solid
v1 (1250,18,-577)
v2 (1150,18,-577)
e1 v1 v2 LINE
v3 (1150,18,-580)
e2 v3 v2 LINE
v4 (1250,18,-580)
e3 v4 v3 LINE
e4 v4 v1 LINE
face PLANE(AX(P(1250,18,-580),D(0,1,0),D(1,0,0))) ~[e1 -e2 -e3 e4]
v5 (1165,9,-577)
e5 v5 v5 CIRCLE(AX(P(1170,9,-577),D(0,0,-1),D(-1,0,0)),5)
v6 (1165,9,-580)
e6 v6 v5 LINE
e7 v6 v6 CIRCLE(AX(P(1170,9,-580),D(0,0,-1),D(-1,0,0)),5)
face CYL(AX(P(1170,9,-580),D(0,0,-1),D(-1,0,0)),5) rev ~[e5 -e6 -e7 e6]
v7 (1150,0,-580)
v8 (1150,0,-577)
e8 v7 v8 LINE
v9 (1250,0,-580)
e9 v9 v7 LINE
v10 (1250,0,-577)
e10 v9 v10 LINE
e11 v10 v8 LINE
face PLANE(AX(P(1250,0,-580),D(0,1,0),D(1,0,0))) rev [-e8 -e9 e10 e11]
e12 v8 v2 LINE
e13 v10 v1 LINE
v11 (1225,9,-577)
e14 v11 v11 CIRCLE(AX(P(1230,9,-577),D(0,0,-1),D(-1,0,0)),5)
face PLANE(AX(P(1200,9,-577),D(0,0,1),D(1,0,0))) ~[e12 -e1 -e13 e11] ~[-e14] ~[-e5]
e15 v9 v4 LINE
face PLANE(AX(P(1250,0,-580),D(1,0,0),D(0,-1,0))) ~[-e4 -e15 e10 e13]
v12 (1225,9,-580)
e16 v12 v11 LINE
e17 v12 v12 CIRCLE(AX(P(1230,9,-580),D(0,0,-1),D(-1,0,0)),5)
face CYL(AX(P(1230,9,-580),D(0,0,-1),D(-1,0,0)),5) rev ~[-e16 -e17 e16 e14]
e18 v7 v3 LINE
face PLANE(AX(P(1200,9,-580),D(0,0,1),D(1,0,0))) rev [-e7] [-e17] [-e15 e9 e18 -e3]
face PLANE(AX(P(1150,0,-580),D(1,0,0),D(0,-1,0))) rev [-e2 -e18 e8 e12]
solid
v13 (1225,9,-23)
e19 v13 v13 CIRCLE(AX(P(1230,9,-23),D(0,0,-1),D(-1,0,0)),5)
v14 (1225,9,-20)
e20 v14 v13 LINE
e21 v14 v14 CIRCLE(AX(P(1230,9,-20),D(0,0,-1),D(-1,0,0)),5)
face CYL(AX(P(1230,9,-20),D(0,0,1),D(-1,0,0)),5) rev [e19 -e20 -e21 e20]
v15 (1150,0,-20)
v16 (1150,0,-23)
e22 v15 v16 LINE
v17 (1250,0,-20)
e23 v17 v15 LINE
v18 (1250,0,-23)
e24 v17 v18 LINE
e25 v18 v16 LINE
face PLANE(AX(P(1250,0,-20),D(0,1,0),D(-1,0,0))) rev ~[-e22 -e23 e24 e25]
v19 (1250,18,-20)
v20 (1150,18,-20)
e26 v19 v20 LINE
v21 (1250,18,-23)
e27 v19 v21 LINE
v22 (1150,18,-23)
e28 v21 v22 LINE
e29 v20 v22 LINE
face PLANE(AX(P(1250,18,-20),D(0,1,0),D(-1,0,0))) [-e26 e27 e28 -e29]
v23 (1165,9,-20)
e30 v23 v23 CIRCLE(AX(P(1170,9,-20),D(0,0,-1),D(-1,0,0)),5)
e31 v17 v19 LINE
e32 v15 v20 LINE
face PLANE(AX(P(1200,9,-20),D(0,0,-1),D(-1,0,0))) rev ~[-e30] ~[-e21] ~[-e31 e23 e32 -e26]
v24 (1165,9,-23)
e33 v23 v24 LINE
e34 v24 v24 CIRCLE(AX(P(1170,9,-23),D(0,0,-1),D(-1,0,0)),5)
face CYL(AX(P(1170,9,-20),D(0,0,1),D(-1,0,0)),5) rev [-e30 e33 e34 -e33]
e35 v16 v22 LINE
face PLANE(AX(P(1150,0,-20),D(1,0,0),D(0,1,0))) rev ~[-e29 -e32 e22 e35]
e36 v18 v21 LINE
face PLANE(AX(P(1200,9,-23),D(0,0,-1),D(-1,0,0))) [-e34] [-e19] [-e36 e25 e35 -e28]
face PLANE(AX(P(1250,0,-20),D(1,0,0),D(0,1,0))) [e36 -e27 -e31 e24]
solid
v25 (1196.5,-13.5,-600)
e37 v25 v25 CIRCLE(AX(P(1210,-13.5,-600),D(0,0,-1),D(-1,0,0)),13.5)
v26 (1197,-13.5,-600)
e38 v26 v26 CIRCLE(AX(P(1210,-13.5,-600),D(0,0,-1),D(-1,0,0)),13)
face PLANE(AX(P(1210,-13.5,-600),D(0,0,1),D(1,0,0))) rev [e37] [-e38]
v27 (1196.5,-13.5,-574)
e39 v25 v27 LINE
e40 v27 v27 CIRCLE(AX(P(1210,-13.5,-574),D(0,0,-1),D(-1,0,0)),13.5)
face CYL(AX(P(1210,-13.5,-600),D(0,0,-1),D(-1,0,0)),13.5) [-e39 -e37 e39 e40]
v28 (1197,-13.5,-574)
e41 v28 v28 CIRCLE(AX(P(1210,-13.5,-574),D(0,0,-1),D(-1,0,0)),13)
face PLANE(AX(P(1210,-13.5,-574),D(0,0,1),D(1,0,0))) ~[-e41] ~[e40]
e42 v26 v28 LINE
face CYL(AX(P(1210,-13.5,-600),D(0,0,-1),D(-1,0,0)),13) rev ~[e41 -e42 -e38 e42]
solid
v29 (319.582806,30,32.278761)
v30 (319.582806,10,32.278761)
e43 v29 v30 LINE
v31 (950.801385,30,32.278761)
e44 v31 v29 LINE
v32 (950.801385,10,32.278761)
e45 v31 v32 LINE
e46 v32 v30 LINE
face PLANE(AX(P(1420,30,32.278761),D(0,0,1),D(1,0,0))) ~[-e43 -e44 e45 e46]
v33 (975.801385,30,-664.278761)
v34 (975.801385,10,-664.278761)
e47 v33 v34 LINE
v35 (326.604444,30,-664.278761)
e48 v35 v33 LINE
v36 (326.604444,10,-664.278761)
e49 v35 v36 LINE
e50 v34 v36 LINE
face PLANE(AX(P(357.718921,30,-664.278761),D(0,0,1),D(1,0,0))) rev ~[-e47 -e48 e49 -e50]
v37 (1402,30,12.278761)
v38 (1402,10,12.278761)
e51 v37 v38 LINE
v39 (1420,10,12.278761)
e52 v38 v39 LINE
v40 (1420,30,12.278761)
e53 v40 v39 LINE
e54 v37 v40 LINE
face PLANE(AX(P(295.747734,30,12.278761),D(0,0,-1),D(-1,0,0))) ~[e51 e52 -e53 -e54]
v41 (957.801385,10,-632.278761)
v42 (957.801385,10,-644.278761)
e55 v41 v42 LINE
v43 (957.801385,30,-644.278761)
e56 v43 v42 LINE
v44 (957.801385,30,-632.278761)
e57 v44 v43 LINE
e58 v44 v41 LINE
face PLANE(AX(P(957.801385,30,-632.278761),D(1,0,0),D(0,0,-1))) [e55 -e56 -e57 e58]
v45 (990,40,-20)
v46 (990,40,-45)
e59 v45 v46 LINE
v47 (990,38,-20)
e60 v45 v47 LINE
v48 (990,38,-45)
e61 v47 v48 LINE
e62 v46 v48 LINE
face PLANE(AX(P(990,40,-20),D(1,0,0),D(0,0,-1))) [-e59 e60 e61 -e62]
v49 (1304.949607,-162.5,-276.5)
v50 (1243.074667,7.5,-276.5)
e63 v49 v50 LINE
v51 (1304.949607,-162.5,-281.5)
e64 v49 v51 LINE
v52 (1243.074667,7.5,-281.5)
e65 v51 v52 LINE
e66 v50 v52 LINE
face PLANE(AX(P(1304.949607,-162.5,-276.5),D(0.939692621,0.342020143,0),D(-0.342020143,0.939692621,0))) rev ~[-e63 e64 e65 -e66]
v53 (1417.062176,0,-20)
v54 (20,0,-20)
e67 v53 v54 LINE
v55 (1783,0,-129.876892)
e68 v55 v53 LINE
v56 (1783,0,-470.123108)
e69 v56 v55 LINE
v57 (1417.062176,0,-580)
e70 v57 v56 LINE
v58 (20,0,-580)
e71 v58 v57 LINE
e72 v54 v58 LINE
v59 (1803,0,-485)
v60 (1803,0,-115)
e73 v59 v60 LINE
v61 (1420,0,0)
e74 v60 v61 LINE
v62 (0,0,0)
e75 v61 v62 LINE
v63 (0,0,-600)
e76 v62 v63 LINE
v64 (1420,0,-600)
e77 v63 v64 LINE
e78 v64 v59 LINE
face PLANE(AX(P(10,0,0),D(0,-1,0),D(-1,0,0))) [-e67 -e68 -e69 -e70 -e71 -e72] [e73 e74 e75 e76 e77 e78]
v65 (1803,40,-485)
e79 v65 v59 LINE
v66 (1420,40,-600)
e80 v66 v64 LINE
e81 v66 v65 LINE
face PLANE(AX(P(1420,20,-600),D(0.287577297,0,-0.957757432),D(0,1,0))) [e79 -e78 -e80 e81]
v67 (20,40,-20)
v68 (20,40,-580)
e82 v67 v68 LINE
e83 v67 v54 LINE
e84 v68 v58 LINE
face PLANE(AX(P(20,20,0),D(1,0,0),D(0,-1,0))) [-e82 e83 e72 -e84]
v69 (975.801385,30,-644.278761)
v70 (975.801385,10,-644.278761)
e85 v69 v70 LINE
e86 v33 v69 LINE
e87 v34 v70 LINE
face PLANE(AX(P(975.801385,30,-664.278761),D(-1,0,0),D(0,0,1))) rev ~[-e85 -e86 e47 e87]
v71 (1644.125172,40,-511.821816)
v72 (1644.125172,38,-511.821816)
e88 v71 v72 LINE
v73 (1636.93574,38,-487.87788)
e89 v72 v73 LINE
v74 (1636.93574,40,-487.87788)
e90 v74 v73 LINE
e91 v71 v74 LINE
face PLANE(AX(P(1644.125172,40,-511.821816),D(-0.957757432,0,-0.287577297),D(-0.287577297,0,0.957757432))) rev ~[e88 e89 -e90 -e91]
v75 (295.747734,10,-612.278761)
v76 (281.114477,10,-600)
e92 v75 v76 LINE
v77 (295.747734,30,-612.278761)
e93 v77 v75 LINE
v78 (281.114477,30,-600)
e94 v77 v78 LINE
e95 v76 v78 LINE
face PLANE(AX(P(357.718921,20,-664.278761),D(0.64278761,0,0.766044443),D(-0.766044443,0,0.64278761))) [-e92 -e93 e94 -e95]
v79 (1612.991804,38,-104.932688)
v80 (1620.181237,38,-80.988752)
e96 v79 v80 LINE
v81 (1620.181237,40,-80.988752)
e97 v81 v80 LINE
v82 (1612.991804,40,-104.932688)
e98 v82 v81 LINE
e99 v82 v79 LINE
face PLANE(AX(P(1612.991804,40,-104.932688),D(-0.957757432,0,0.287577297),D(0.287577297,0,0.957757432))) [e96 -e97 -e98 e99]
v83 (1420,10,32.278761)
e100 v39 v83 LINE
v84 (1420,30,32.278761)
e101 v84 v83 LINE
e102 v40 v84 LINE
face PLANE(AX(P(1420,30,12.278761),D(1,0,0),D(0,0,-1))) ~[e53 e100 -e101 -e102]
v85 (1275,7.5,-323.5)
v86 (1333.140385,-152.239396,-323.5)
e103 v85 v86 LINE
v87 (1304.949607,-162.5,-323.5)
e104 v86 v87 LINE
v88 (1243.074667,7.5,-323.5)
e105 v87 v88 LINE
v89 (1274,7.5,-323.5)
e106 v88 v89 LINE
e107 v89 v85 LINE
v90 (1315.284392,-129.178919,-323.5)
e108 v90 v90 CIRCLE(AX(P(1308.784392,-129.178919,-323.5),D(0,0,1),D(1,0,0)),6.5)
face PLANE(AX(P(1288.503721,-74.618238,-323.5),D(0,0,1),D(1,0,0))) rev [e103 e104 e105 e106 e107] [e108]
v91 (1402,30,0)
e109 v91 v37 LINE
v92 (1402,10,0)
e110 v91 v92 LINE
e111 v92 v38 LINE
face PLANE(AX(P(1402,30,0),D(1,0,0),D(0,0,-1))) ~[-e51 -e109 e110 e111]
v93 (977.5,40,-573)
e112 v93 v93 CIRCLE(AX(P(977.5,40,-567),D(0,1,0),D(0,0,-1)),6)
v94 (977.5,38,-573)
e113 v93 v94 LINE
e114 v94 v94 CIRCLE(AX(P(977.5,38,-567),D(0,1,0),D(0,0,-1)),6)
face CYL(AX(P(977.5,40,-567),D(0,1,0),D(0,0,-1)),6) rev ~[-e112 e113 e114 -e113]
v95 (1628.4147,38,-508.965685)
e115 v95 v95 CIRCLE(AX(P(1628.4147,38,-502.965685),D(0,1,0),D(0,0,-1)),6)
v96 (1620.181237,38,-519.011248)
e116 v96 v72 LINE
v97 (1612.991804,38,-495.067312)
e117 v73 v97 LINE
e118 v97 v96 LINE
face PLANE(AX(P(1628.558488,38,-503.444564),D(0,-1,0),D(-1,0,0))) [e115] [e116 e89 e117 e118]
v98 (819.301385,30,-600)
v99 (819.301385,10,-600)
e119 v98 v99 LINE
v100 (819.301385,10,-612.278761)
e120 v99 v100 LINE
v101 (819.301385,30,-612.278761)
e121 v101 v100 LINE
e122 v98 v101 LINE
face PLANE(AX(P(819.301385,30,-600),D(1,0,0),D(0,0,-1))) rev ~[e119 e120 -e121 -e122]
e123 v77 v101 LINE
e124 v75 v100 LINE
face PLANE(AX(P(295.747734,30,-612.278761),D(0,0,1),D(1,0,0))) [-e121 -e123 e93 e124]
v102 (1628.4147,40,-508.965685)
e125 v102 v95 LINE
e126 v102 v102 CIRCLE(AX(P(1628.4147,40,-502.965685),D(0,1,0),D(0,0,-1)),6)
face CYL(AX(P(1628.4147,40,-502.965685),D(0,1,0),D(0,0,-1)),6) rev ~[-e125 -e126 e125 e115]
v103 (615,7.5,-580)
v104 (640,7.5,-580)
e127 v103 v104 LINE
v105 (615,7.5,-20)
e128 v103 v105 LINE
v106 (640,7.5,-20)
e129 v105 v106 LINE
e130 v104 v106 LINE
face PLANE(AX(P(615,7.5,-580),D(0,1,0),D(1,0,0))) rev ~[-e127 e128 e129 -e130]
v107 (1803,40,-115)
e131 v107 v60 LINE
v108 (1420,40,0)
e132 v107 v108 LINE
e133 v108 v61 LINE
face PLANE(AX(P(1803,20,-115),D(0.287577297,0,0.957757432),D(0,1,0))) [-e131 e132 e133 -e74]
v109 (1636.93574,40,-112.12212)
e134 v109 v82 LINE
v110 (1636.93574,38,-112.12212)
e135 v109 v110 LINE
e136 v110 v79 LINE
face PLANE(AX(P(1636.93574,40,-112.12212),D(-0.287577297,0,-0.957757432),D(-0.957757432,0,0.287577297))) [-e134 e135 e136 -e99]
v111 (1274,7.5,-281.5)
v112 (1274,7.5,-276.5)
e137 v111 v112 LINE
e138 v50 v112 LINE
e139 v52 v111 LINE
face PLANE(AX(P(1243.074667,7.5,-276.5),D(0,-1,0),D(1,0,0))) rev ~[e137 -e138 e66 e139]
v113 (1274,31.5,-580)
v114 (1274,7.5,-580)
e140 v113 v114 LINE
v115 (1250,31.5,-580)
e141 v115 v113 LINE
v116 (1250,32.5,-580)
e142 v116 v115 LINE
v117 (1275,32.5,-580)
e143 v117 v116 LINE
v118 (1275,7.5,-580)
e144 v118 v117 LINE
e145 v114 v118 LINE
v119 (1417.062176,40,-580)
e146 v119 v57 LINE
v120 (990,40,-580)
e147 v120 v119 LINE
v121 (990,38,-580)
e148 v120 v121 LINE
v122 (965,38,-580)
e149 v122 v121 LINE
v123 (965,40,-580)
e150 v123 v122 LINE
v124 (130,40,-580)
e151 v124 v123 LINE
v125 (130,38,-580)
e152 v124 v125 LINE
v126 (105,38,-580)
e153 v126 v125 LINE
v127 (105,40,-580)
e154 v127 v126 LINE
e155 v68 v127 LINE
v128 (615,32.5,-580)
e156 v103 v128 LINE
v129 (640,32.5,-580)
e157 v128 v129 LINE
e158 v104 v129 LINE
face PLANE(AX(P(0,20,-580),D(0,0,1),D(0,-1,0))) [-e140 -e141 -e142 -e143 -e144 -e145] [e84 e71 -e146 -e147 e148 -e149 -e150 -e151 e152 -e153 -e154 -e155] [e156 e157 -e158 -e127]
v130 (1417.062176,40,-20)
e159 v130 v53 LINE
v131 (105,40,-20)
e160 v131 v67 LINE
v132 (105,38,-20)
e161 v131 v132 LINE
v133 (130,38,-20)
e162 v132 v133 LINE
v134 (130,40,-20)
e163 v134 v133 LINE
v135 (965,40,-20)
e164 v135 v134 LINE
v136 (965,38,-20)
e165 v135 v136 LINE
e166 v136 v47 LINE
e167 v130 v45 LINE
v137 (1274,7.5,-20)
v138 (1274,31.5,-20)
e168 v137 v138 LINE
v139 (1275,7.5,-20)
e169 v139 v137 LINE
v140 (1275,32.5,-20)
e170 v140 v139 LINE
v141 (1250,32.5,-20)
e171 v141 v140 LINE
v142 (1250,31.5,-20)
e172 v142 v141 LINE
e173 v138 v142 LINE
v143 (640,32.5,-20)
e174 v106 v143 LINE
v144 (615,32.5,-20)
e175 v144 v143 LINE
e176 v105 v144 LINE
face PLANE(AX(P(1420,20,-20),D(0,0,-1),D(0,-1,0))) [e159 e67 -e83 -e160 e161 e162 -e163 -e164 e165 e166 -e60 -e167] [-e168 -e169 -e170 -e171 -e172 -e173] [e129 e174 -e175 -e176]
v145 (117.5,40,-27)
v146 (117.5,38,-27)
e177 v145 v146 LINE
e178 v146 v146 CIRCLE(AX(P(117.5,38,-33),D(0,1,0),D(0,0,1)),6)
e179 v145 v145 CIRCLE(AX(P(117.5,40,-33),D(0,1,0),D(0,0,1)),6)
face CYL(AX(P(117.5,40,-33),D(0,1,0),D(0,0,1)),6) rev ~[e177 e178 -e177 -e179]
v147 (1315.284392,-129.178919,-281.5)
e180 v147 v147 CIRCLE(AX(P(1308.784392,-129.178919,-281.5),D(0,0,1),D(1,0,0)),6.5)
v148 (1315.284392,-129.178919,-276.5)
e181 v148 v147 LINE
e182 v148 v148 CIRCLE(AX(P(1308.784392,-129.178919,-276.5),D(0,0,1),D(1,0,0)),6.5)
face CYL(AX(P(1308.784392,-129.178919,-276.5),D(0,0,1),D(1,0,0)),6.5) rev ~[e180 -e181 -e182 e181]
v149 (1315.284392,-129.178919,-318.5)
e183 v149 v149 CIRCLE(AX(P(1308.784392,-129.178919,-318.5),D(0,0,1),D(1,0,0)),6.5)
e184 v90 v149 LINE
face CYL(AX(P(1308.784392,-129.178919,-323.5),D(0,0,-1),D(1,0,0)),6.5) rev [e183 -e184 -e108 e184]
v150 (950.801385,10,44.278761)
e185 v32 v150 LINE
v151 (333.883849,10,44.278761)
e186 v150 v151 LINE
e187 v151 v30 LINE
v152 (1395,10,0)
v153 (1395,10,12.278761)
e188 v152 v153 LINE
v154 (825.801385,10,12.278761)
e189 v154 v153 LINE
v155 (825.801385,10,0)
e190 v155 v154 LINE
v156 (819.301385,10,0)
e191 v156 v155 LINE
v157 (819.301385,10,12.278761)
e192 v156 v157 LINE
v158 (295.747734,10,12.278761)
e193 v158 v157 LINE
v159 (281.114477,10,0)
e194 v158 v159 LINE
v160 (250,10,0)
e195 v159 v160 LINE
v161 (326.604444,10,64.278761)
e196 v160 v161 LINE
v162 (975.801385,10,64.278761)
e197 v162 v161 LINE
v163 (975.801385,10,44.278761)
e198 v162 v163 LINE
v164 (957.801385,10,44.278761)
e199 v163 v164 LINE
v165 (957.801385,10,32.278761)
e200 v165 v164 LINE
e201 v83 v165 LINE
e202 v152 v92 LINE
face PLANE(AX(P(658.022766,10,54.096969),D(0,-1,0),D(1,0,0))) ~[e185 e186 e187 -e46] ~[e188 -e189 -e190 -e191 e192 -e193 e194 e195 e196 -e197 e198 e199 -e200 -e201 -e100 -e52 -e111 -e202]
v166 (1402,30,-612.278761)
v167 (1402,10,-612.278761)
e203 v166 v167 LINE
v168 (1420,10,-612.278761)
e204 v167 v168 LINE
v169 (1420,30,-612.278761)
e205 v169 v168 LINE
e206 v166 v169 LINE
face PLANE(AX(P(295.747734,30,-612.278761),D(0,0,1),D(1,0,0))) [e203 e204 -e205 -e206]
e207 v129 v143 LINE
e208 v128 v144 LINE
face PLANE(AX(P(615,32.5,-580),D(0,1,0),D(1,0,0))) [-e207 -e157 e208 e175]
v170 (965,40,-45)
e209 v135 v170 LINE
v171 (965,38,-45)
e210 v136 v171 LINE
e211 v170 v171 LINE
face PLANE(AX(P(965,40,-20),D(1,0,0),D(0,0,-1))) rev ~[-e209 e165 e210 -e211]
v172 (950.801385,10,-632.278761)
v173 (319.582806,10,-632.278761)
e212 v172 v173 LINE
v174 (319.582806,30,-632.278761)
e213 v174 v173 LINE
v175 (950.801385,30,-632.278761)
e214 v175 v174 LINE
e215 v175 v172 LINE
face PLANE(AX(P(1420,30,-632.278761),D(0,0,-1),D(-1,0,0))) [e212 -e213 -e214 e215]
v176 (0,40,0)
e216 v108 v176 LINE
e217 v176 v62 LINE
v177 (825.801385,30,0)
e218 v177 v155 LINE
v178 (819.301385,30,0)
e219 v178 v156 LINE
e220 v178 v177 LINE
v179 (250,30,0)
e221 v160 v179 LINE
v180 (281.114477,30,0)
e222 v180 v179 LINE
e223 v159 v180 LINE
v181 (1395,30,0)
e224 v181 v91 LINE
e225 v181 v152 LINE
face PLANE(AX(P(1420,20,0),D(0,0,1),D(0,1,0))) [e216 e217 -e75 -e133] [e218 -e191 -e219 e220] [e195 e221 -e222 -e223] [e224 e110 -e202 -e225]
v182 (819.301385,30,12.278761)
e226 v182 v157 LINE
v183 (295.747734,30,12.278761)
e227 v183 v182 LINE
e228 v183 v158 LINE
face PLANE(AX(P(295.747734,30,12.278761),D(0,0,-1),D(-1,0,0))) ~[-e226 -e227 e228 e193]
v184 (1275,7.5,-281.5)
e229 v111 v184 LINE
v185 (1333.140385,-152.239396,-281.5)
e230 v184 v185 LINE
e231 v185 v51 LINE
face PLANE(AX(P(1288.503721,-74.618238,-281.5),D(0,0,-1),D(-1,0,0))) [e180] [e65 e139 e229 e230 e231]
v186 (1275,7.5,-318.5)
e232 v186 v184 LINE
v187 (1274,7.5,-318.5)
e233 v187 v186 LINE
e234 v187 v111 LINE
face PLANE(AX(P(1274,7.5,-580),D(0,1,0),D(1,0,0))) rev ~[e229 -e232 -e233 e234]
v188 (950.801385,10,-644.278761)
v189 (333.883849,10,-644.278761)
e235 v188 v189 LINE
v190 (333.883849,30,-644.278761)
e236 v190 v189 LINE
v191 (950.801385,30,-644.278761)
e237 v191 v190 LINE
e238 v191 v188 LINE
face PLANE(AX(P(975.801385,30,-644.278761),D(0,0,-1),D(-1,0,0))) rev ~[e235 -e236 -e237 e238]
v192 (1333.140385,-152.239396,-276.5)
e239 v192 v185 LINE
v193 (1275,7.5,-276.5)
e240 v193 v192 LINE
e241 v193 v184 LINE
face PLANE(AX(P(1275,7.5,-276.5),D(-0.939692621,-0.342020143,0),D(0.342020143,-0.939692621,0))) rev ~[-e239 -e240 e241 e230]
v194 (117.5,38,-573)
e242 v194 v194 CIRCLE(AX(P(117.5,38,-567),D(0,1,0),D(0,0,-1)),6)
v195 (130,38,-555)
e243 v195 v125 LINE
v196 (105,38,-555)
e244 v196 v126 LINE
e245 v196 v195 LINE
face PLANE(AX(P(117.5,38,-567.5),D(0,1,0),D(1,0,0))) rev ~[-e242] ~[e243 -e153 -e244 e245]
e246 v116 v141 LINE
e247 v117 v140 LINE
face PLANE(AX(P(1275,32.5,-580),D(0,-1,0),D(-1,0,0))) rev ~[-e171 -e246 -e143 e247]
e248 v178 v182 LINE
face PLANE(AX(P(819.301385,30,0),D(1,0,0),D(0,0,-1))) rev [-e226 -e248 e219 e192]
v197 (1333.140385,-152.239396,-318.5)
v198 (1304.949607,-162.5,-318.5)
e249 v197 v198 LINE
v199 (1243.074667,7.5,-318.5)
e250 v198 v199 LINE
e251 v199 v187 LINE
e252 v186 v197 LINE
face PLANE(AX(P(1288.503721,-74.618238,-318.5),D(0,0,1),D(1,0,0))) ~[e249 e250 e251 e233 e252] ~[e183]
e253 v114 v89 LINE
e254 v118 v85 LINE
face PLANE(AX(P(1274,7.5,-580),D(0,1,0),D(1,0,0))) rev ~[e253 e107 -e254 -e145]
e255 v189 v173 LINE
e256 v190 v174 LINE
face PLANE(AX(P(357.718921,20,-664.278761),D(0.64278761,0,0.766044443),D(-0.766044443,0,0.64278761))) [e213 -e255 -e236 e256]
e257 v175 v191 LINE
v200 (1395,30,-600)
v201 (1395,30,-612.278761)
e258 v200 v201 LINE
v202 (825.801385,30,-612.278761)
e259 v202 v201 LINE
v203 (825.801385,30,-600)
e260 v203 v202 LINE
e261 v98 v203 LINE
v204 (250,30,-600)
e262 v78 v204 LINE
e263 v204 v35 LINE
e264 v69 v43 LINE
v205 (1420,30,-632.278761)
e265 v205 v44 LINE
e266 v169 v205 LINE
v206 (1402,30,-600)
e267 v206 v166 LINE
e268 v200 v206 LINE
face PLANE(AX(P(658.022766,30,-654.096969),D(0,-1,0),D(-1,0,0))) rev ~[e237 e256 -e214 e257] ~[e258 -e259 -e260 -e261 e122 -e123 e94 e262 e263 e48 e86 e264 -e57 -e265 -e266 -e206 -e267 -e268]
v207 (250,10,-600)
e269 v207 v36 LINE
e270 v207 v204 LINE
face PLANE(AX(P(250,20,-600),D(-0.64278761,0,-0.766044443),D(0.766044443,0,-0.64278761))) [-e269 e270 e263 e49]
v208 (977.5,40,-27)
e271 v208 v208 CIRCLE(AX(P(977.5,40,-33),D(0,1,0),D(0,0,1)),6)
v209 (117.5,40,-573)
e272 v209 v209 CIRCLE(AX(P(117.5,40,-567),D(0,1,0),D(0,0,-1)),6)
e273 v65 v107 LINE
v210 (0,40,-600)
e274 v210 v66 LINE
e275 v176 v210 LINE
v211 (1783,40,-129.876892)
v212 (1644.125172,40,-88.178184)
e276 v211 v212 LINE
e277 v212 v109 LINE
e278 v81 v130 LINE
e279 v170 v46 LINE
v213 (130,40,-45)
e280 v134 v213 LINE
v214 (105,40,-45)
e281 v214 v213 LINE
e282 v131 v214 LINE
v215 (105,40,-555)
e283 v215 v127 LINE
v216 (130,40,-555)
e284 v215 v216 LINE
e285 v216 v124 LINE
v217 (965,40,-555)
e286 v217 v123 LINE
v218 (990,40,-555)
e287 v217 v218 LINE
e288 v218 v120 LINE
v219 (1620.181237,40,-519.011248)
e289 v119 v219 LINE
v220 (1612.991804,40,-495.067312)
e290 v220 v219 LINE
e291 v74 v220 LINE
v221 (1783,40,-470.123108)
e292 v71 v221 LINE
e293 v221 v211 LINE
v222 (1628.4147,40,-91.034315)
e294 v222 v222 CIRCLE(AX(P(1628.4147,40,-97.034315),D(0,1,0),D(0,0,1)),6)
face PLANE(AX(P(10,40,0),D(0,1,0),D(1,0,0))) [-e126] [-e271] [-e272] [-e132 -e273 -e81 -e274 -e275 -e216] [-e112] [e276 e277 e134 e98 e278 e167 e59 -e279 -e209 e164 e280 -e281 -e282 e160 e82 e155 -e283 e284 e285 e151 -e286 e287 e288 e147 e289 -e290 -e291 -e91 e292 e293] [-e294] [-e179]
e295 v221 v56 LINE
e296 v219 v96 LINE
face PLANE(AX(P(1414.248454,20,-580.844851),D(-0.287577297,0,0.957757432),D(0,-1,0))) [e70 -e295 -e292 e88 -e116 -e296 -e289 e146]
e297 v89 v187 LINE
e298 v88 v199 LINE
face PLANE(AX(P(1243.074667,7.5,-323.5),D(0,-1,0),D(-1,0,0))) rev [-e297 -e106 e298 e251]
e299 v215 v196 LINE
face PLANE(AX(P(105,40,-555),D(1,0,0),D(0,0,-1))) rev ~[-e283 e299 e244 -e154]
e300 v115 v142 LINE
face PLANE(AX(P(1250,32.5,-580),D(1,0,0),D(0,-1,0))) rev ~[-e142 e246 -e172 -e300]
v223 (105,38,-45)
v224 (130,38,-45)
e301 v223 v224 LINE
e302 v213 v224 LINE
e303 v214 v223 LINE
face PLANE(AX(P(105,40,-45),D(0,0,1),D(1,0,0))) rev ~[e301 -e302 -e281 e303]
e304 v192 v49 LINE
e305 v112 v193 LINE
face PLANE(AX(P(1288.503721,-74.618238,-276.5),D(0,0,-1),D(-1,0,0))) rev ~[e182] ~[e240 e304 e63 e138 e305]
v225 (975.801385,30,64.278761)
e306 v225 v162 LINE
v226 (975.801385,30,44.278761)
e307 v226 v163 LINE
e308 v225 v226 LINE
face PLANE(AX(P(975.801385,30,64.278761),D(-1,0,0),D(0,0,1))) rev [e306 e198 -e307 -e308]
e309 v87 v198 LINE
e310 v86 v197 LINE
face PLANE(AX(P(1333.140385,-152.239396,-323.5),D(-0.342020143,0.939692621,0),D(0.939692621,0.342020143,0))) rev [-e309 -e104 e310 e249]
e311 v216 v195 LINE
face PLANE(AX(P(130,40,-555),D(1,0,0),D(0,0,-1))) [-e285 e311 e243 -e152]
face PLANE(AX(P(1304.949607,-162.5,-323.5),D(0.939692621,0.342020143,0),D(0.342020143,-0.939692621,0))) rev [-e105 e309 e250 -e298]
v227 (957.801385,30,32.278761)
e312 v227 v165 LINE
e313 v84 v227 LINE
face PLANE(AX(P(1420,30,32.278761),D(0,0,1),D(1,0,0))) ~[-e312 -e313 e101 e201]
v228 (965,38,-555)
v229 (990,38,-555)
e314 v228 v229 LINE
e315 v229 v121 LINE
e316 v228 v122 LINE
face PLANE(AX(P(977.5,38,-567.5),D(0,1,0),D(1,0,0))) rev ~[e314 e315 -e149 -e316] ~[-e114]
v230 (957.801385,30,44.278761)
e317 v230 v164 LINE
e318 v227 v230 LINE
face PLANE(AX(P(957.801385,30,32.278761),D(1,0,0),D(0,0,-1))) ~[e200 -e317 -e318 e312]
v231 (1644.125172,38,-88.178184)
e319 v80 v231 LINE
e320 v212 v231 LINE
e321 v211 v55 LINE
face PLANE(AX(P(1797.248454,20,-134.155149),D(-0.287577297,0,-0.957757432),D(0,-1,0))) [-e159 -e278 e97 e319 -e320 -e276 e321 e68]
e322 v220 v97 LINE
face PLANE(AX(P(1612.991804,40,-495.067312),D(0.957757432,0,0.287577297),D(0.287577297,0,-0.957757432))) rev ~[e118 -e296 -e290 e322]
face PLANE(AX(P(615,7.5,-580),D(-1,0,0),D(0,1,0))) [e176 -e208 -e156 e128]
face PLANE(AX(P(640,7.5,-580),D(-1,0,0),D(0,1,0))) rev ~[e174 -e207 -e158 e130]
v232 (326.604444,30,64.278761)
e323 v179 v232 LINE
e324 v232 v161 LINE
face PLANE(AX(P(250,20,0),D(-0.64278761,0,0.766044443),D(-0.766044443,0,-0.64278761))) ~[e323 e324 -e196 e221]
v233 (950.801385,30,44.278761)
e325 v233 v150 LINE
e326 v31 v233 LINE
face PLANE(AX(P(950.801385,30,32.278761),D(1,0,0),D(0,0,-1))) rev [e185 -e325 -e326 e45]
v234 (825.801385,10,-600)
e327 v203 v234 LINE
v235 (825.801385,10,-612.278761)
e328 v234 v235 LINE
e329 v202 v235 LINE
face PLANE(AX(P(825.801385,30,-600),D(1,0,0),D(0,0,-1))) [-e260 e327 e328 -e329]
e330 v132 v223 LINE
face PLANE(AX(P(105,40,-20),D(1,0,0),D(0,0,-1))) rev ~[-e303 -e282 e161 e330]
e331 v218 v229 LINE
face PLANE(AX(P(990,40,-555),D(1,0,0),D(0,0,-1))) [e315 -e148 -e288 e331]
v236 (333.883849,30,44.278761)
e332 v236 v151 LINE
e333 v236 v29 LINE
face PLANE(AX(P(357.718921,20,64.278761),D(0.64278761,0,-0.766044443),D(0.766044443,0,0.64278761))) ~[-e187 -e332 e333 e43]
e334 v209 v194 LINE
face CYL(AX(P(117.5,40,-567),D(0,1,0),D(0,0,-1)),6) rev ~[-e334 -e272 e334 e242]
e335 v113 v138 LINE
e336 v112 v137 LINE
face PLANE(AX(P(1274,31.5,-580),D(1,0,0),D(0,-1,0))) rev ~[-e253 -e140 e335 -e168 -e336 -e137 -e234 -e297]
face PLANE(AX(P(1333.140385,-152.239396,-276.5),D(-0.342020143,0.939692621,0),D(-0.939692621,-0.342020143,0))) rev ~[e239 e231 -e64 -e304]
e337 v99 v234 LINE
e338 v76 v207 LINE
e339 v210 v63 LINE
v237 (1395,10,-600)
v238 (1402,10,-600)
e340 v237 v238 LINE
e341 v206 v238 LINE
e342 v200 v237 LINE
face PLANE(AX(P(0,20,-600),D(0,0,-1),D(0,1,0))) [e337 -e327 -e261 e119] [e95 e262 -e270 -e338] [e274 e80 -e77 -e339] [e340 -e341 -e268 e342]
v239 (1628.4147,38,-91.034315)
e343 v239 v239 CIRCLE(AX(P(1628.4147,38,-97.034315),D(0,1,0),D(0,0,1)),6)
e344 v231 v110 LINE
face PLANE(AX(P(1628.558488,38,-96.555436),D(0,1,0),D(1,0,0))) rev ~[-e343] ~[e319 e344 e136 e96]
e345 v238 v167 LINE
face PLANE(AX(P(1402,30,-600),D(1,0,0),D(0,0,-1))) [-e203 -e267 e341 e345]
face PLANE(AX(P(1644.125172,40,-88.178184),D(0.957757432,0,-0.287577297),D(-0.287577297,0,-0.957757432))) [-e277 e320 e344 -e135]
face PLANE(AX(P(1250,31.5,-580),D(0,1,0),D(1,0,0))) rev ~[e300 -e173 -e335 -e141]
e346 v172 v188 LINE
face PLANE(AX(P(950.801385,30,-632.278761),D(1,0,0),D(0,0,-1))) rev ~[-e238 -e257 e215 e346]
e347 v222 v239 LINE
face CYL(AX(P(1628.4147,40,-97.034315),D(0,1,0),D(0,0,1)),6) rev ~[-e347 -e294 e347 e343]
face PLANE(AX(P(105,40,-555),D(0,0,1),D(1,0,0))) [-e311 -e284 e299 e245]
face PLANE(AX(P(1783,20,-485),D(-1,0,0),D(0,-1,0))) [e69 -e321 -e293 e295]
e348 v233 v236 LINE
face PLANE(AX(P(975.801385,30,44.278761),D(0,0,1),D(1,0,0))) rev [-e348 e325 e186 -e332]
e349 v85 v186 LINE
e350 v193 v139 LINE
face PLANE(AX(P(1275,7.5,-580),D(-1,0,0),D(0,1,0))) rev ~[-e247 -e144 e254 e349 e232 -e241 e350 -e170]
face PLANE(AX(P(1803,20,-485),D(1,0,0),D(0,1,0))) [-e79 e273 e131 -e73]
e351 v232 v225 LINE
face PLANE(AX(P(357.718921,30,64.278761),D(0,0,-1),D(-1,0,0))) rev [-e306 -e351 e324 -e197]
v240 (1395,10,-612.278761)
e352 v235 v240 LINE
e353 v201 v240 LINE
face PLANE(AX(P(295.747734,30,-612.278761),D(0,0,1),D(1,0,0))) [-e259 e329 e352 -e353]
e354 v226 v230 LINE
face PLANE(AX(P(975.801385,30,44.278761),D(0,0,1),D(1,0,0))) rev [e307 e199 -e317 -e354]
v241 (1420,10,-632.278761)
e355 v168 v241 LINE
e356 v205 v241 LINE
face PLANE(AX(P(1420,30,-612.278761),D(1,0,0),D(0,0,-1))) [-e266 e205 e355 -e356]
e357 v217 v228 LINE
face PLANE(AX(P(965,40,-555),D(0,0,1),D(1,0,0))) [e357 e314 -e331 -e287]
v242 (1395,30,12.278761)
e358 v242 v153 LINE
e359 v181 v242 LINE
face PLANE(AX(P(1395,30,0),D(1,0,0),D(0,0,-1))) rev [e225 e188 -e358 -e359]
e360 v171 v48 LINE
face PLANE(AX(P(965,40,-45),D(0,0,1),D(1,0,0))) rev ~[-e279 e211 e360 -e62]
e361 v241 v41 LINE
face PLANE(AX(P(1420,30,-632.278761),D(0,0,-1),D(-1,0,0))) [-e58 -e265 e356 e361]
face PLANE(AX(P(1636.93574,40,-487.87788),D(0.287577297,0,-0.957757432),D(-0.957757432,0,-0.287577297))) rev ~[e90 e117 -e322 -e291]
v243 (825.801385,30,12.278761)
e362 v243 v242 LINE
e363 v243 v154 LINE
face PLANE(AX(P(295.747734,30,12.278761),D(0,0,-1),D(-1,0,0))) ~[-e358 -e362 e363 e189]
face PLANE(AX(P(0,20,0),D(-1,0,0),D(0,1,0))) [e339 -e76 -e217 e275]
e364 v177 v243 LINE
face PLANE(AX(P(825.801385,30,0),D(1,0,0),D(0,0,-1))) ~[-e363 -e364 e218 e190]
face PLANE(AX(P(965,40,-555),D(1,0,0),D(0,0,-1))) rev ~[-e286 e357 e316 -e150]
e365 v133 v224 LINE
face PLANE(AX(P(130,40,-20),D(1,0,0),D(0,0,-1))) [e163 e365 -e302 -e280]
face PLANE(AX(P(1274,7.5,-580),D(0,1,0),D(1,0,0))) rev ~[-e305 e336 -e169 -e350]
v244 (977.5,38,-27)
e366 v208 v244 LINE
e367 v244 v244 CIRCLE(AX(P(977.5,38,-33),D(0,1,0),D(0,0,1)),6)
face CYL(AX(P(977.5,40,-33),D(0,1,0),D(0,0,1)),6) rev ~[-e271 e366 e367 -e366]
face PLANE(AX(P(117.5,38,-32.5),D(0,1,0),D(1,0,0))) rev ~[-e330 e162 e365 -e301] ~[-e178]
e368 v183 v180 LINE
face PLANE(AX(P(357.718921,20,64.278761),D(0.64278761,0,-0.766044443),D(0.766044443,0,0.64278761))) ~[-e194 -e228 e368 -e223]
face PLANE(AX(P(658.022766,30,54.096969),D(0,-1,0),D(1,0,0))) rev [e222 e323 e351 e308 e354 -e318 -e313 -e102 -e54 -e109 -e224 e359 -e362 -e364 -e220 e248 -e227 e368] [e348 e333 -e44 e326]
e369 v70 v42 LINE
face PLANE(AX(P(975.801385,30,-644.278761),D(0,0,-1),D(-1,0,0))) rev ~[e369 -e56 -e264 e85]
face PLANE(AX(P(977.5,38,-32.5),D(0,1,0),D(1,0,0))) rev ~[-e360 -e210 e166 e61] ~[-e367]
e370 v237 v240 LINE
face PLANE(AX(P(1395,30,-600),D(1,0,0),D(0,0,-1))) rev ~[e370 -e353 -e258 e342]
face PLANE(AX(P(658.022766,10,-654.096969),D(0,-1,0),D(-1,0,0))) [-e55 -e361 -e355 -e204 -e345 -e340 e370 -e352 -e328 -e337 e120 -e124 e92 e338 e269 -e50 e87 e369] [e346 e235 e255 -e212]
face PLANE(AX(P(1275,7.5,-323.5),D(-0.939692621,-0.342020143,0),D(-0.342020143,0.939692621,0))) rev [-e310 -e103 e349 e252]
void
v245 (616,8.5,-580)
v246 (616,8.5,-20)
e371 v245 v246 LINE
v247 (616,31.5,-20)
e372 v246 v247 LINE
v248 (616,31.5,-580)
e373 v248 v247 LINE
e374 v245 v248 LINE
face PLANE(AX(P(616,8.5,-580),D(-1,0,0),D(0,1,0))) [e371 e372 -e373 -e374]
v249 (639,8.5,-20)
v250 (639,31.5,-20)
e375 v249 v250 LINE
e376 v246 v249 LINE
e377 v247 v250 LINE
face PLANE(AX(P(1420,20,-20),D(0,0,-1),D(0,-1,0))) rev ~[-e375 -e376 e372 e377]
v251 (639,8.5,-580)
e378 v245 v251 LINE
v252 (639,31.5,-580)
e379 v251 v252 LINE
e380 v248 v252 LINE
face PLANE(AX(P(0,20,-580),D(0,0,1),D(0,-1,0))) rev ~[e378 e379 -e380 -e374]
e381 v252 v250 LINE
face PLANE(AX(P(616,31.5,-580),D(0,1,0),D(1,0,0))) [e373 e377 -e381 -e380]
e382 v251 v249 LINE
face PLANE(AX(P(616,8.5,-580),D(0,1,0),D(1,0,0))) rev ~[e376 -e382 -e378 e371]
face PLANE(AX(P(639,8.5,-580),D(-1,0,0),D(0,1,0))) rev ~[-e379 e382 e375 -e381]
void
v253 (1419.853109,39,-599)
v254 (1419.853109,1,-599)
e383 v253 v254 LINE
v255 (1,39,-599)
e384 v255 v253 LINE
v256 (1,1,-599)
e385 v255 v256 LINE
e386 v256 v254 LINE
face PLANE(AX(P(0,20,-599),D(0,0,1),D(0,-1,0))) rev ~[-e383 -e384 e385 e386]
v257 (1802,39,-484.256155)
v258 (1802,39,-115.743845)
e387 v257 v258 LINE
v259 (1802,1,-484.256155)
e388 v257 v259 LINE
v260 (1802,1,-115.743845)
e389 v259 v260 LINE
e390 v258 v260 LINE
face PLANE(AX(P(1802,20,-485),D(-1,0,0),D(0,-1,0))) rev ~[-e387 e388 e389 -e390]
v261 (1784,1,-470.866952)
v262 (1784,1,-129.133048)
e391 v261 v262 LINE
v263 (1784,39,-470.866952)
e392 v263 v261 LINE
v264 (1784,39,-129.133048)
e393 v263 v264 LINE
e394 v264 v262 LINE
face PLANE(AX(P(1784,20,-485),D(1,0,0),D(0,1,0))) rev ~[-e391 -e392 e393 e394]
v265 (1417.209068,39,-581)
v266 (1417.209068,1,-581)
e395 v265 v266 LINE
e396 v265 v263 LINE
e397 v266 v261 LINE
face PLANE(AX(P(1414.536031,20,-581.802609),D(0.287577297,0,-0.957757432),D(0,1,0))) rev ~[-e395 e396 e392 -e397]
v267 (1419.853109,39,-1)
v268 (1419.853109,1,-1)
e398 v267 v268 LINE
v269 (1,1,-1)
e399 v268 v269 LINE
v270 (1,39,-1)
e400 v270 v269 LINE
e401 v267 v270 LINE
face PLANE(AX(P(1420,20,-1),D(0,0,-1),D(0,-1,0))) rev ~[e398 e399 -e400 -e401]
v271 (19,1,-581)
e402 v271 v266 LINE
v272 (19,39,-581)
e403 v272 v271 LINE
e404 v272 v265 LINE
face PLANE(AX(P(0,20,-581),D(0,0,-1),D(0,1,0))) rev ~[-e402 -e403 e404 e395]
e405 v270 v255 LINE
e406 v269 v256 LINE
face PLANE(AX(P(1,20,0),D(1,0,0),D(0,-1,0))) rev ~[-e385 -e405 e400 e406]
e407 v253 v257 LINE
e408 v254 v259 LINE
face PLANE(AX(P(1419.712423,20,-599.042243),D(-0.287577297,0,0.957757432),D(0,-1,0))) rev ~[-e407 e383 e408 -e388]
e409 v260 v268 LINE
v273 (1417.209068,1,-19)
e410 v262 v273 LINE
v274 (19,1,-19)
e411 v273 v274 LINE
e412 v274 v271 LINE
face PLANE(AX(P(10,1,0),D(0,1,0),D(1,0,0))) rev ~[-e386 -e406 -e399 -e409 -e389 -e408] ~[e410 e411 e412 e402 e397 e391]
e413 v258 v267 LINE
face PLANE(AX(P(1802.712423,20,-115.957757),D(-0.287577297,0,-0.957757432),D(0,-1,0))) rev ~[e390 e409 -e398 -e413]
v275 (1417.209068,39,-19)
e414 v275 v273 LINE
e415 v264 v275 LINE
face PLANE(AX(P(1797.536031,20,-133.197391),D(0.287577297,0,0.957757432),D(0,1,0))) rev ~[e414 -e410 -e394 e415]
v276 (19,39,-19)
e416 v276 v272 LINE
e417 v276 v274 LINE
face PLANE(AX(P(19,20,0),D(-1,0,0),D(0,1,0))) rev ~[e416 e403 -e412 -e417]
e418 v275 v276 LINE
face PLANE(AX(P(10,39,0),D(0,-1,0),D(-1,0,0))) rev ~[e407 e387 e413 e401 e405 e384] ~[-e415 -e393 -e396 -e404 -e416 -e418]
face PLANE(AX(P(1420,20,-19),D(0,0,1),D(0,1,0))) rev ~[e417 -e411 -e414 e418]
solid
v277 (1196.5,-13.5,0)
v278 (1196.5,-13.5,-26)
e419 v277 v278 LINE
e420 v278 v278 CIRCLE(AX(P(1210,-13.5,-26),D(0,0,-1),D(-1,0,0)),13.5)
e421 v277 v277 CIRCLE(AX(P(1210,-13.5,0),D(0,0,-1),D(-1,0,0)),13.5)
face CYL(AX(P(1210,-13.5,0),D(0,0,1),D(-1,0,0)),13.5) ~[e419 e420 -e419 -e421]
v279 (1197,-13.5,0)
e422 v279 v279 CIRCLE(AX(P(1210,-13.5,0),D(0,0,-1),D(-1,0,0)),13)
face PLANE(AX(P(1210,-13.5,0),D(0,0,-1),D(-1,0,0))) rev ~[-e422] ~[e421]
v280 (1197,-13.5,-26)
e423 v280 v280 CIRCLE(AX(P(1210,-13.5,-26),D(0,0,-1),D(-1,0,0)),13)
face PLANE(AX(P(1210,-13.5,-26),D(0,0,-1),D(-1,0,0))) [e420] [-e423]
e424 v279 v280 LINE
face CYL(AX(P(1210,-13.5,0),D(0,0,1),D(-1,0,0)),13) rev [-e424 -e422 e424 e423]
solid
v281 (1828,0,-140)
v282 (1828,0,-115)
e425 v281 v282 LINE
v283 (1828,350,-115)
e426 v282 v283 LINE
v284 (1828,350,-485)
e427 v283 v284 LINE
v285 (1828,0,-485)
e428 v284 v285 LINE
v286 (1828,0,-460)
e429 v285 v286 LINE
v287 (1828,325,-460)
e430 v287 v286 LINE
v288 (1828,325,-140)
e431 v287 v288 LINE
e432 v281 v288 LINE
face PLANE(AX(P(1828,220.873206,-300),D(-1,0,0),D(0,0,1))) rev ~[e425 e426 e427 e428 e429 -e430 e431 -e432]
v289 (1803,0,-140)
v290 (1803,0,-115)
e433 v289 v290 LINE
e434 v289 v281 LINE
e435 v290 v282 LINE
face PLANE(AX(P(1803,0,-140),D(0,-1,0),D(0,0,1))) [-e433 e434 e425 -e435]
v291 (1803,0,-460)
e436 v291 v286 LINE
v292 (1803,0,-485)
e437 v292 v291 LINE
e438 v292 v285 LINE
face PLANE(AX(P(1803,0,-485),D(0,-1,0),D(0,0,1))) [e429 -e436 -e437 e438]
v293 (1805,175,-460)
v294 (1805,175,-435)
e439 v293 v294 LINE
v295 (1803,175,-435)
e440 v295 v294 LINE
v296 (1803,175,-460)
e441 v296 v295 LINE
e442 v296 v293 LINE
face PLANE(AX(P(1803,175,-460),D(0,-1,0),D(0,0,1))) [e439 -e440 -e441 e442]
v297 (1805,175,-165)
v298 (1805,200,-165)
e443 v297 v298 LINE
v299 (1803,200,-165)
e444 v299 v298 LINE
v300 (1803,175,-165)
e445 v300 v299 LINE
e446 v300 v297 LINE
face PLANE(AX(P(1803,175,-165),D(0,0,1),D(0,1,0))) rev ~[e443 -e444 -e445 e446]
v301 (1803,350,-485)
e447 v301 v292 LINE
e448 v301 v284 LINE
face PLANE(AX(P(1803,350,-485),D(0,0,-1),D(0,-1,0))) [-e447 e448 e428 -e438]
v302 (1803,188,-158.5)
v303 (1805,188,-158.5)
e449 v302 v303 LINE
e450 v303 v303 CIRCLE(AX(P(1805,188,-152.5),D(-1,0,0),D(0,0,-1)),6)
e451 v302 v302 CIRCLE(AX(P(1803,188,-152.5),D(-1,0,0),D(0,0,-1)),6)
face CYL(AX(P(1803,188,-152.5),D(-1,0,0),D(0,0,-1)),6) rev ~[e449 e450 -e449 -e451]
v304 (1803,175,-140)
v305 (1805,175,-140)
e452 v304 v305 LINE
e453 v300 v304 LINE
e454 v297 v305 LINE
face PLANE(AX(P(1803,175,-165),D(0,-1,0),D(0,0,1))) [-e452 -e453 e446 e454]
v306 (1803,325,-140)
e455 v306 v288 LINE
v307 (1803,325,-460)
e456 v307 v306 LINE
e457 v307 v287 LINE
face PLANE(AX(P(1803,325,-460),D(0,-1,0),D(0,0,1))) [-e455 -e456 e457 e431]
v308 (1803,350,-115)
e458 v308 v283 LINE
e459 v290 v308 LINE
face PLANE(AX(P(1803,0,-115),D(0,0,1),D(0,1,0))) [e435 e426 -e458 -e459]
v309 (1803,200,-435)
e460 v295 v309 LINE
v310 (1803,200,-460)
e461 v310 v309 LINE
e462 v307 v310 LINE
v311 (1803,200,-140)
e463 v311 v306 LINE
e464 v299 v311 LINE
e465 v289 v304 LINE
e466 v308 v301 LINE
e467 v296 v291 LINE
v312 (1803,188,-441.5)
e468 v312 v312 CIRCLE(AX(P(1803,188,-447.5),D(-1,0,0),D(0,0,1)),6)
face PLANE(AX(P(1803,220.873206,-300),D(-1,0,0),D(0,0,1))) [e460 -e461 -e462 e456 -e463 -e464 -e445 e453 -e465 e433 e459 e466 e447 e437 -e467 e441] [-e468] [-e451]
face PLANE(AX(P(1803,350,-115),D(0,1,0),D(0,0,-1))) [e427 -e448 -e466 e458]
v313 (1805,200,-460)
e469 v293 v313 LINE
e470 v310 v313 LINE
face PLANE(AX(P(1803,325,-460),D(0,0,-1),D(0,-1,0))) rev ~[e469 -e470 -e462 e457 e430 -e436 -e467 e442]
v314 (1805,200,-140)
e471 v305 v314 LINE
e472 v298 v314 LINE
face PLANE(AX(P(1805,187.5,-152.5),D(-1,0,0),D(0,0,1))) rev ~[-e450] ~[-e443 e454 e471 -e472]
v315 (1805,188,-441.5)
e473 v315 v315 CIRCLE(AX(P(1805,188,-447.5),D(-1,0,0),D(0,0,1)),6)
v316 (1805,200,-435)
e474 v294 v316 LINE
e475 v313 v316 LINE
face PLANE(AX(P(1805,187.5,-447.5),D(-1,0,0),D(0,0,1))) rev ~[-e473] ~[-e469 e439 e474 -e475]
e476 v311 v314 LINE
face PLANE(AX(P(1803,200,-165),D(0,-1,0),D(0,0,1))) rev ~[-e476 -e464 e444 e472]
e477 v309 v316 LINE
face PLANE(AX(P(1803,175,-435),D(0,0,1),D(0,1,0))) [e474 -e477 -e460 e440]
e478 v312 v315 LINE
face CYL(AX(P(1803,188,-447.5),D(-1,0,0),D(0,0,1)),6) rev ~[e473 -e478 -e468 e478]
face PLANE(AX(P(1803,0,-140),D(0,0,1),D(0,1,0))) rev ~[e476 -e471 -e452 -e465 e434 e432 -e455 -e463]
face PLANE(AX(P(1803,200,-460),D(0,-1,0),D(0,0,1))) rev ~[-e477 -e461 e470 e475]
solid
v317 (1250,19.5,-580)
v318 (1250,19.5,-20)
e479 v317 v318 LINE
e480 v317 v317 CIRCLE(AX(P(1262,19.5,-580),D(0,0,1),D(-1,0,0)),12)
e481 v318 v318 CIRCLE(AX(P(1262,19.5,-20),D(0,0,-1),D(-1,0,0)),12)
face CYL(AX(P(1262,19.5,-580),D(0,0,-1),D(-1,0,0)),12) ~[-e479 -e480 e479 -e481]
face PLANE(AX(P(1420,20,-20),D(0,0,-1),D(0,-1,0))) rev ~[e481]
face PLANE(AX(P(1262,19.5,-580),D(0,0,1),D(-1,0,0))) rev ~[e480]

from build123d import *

# Parameters (mm, degrees)
SKETCH2_W                 = 20
SKETCH2_H                 = 40
SKETCH2_W_2               = 18
SKETCH2_H_2               = 38
SKETCH3_W                 = 25
SKETCH3_H                 = 25
SKETCH3_W_2               = 23
SKETCH3_H_2               = 23
EXTRUDE_THIN1_DEPTH       = 560
BOSS_EXTRUDE1_REACH       = 1896.415
BOSS_EXTRUDE5_DEPTH       = 25
BOSS_EXTRUDE6_DEPTH       = 10
BOSS_EXTRUDE7_DEPTH       = 20
SKETCH10_W                = 7
SKETCH10_H                = 12
SKETCH10_H_2              = 12.278760969
SKETCH10_W_2              = 6.5
BOSS_EXTRUDE8_DEPTH       = 20
SKETCH11_W                = 25
SKETCH11_H                = 25
SKETCH11_R                = 6
BOSS_EXTRUDE9_DEPTH       = 2
SKETCH12_W                = 25
SKETCH12_H                = 25
SKETCH12_R                = 6
BOSS_EXTRUDE10_DEPTH      = 2
SKETCH18_W                = 100
SKETCH18_H                = 18
SKETCH18_R                = 5
BOSS_EXTRUDE14_DEPTH      = 3
BOSS_EXTRUDE15_DEPTH      = 3
BOSS_EXTRUDE15_DEPTH_BACK = 23
SKETCH20_R                = 13.5
SKETCH20_R_2              = 13
SKETCH22_R                = 6.5
BOSS_EXTRUDE16_DEPTH      = 5
BOSS_EXTRUDE18_REACH      = 1971.563
SKETCH5_R                 = 12


with BuildPart() as part:
    # Sweep1: sweep along a path in Sketch1
    with BuildLine(Plane(origin=(0, 0, 0), x_dir=(1, 0, 0), z_dir=(0, 1, 0))) as sweep1_path:
        Line((0, 0), (0, 600))
        Line((0, 600), (1420, 600))
        Line((1420, 600), (1803, 485))
        Line((1803, 485), (1803, 115))
        Line((1803, 115), (1420, 0))
        Line((1420, 0), (0, 0))
    # Sketch2 → Sweep1 (sweep)
    with BuildSketch(Plane(origin=(0, 0, -600), x_dir=(-1, 0, 0), z_dir=(0, 0, -1))):
        with Locations((-10, 20)):
            Rectangle(SKETCH2_W, SKETCH2_H)
        with Locations((-10, 20)):
            Rectangle(SKETCH2_W_2, SKETCH2_H_2, mode=Mode.SUBTRACT)
    sweep(path=sweep1_path.line, transition=Transition.RIGHT)

    # Sketch3 → Extrude-Thin1 (add)
    with BuildSketch(Plane.XY.offset(-580)):
        with Locations((627.5, 20)):
            Rectangle(SKETCH3_W, SKETCH3_H)
        with Locations((627.5, 20)):
            Rectangle(SKETCH3_W_2, SKETCH3_H_2, mode=Mode.SUBTRACT)
    extrude(amount=EXTRUDE_THIN1_DEPTH)

    # Sketch4 → Boss-Extrude1 (add, up to next)
    with BuildSketch(Plane.XY.offset(-580), mode=Mode.PRIVATE) as boss_extrude1_sk1:
        Polygon((1250, 31.5), (1274, 31.5), (1274, 7.5), (1275, 7.5), (1275, 32.5), (1250, 32.5), align=None)
    boss_extrude1_tool1 = extrude(boss_extrude1_sk1.sketch, amount=BOSS_EXTRUDE1_REACH, mode=Mode.PRIVATE) - part.part
    add(boss_extrude1_tool1.solids().sort_by_distance((1262, 31.853553, -580))[0])

    # Sketch7 → Boss-Extrude6 (add, symmetric)
    with BuildSketch(Plane(origin=(0, 20, 0), x_dir=(-1, 0, 0), z_dir=(0, -1, 0))):
        Polygon((-250, 600), (-326.604444312, 664.278760969), (-357.718920849, 664.278760969), (-281.114476537, 600), align=None)
    extrude(amount=BOSS_EXTRUDE6_DEPTH, both=True)

    # Sketch8 → Boss-Extrude7 (add)
    with BuildSketch(Plane(origin=(0, 30, 0), x_dir=(1, 0, 0), z_dir=(0, 1, 0))):
        Polygon((357.718920849, 664.278760969), (975.801384923, 664.278760969), (975.801384923, 644.278760969), (333.883848997, 644.278760969), align=None)
        Polygon((295.747734034, 612.278760969), (1420, 612.278760969), (1420, 632.278760969), (319.582805886, 632.278760969), align=None)
    extrude(amount=-BOSS_EXTRUDE7_DEPTH)

    # Sketch10 → Boss-Extrude8 (add)
    with BuildSketch(Plane(origin=(0, 30, 0), x_dir=(1, 0, 0), z_dir=(0, 1, 0))):
        with Locations((954.301384923, 638.278760969)):
            Rectangle(SKETCH10_W, SKETCH10_H)
        with Locations((1398.5, 606.139380484)):
            Rectangle(SKETCH10_W, SKETCH10_H_2)
        with Locations((822.551384923, 606.139380484)):
            Rectangle(SKETCH10_W_2, SKETCH10_H_2)
    extrude(amount=-BOSS_EXTRUDE8_DEPTH)

    # Mirror2: part across plane


with BuildPart() as body_2:
    # Sketch6 → Boss-Extrude5 (new body)
    with BuildSketch(Plane(origin=(1803, 0, 0), x_dir=(0, 0, -1), z_dir=(1, 0, 0))):
        Polygon((460, 25), (460, 325), (140, 325), (140, 25), (140, 0), (115, 0), (115, 350), (485, 350), (485, 0), (460, 0), align=None)
    extrude(amount=BOSS_EXTRUDE5_DEPTH)

    # Sketch12 → Boss-Extrude10 (add)
    # profile 1 of 2: a face of its own
    with BuildSketch(Plane.ZY.offset(-1803)):
        with Locations((-447.5, 187.5)):
            Rectangle(SKETCH12_W, SKETCH12_H)
        with Locations((-447.5, 188)):
            Circle(SKETCH12_R, mode=Mode.SUBTRACT)
    # profile 2 of 2: a face of its own
    with BuildSketch(Plane.ZY.offset(-1803)):
        with Locations((-152.5, 187.5)):
            Rectangle(SKETCH12_W, SKETCH12_H)
        with Locations(Location((-152.5, 188, 0), (0, 0, 180))):
            Circle(SKETCH12_R, mode=Mode.SUBTRACT)
    extrude(amount=-BOSS_EXTRUDE10_DEPTH)


with BuildPart() as part_1:
    add(part.part)
    add(part.part.mirror(Plane.XY.offset(-300)))

    # Sketch11 → Boss-Extrude9 (add)
    # profile 1 of 6: a face of its own
    with BuildSketch(Plane(origin=(0, 40, 0), x_dir=(1, 0, 0), z_dir=(0, 1, 0))):
        with Locations((117.5, 32.5)):
            Rectangle(SKETCH11_W, SKETCH11_H)
        with Locations(Location((117.5, 33, 0), (0, 0, 270))):
            Circle(SKETCH11_R, mode=Mode.SUBTRACT)
    # profile 2 of 6: a face of its own
    with BuildSketch(Plane(origin=(0, 40, 0), x_dir=(1, 0, 0), z_dir=(0, 1, 0))):
        with Locations((977.5, 32.5)):
            Rectangle(SKETCH11_W, SKETCH11_H)
        with Locations(Location((977.5, 33, 0), (0, 0, 270))):
            Circle(SKETCH11_R, mode=Mode.SUBTRACT)
    # profile 3 of 6: a face of its own
    with BuildSketch(Plane(origin=(0, 40, 0), x_dir=(1, 0, 0), z_dir=(0, 1, 0))):
        Polygon((1620.181236576, 80.988751742), (1644.125172374, 88.178184162), (1636.935739954, 112.122119959), (1612.991804156, 104.93268754), align=None)
        with Locations(Location((1628.414699616, 97.034314567, 0), (0, 0, 270))):
            Circle(SKETCH11_R, mode=Mode.SUBTRACT)
    # profile 4 of 6: a face of its own
    with BuildSketch(Plane(origin=(0, 40, 0), x_dir=(1, 0, 0), z_dir=(0, 1, 0))):
        with Locations((977.5, 567.5)):
            Rectangle(SKETCH11_W, SKETCH11_H)
        with Locations(Location((977.5, 567, 0), (0, 0, 90))):
            Circle(SKETCH11_R, mode=Mode.SUBTRACT)
    # profile 5 of 6: a face of its own
    with BuildSketch(Plane(origin=(0, 40, 0), x_dir=(1, 0, 0), z_dir=(0, 1, 0))):
        with Locations((117.5, 567.5)):
            Rectangle(SKETCH11_W, SKETCH11_H)
        with Locations(Location((117.5, 567, 0), (0, 0, 90))):
            Circle(SKETCH11_R, mode=Mode.SUBTRACT)
    # profile 6 of 6: a face of its own
    with BuildSketch(Plane(origin=(0, 40, 0), x_dir=(1, 0, 0), z_dir=(0, 1, 0))):
        Polygon((1620.181236576, 519.011248258), (1644.125172374, 511.821815838), (1636.935739954, 487.877880041), (1612.991804156, 495.06731246), align=None)
        with Locations(Location((1628.414699616, 502.965685433, 0), (0, 0, 90))):
            Circle(SKETCH11_R, mode=Mode.SUBTRACT)
    extrude(amount=-BOSS_EXTRUDE9_DEPTH)

    # Sketch22 → Boss-Extrude16 (add)
    with BuildSketch(Plane.XY.offset(-276.5)):
        Polygon((1275, 7.5), (1333.140385275, -152.2393957), (1304.949606651, -162.5), (1243.074666826, 7.5), align=None)
        with Locations((1308.784391663, -129.178919227)):
            Circle(SKETCH22_R, mode=Mode.SUBTRACT)
    boss_extrude16 = extrude(amount=-BOSS_EXTRUDE16_DEPTH)

    # Mirror8: Boss-Extrude16 across plane
    add(boss_extrude16.mirror(Plane.XY.offset(-300)))


with BuildPart() as body_3:
    # Sketch18 → Boss-Extrude14 (new body)
    with BuildSketch(Plane(origin=(0, 0, -20), x_dir=(-1, 0, 0), z_dir=(0, 0, -1))):
        with Locations((-1200, 9)):
            Rectangle(SKETCH18_W, SKETCH18_H)
        with Locations((-1230, 9)):
            Circle(SKETCH18_R, mode=Mode.SUBTRACT)
        with Locations((-1170, 9)):
            Circle(SKETCH18_R, mode=Mode.SUBTRACT)
    extrude(amount=BOSS_EXTRUDE14_DEPTH)


with BuildPart() as body_4:
    # Sketch20 → Boss-Extrude15 (new, two sides: drawn at the far end of the back side and taken through both)
    with BuildSketch(Plane(origin=(0, 0, -23), x_dir=(-1, 0, 0), z_dir=(0, 0, -1)).offset(-BOSS_EXTRUDE15_DEPTH_BACK)):
        with Locations((-1210, -13.5)):
            Circle(SKETCH20_R)
        with Locations((-1210, -13.5)):
            Circle(SKETCH20_R_2, mode=Mode.SUBTRACT)
    extrude(amount=BOSS_EXTRUDE15_DEPTH + BOSS_EXTRUDE15_DEPTH_BACK)


with BuildPart() as body_5:
    # Mirror7: mirrored copy
    add(body_3.part.mirror(Plane.XY.offset(-300)))


with BuildPart() as body_6:
    # Mirror7 2: mirrored copy
    add(body_4.part.mirror(Plane.XY.offset(-300)))


with BuildPart() as body_7:

    # Sketch5 → Boss-Extrude18 (new, up to next)
    with BuildSketch(Plane.XY.offset(-580), mode=Mode.PRIVATE) as boss_extrude18_sk1:
        with Locations(Location((1262, 19.5, 0), (0, 0, 180))):
            Circle(SKETCH5_R)
    boss_extrude18_tool1 = extrude(boss_extrude18_sk1.sketch, amount=BOSS_EXTRUDE18_REACH, mode=Mode.PRIVATE) - part_1.part
    add(boss_extrude18_tool1.solids().sort_by_distance((1262, 19.5, -580))[0])


solid = Compound([body_2.part, part_1.part, body_3.part, body_4.part, body_5.part, body_6.part, body_7.part])
